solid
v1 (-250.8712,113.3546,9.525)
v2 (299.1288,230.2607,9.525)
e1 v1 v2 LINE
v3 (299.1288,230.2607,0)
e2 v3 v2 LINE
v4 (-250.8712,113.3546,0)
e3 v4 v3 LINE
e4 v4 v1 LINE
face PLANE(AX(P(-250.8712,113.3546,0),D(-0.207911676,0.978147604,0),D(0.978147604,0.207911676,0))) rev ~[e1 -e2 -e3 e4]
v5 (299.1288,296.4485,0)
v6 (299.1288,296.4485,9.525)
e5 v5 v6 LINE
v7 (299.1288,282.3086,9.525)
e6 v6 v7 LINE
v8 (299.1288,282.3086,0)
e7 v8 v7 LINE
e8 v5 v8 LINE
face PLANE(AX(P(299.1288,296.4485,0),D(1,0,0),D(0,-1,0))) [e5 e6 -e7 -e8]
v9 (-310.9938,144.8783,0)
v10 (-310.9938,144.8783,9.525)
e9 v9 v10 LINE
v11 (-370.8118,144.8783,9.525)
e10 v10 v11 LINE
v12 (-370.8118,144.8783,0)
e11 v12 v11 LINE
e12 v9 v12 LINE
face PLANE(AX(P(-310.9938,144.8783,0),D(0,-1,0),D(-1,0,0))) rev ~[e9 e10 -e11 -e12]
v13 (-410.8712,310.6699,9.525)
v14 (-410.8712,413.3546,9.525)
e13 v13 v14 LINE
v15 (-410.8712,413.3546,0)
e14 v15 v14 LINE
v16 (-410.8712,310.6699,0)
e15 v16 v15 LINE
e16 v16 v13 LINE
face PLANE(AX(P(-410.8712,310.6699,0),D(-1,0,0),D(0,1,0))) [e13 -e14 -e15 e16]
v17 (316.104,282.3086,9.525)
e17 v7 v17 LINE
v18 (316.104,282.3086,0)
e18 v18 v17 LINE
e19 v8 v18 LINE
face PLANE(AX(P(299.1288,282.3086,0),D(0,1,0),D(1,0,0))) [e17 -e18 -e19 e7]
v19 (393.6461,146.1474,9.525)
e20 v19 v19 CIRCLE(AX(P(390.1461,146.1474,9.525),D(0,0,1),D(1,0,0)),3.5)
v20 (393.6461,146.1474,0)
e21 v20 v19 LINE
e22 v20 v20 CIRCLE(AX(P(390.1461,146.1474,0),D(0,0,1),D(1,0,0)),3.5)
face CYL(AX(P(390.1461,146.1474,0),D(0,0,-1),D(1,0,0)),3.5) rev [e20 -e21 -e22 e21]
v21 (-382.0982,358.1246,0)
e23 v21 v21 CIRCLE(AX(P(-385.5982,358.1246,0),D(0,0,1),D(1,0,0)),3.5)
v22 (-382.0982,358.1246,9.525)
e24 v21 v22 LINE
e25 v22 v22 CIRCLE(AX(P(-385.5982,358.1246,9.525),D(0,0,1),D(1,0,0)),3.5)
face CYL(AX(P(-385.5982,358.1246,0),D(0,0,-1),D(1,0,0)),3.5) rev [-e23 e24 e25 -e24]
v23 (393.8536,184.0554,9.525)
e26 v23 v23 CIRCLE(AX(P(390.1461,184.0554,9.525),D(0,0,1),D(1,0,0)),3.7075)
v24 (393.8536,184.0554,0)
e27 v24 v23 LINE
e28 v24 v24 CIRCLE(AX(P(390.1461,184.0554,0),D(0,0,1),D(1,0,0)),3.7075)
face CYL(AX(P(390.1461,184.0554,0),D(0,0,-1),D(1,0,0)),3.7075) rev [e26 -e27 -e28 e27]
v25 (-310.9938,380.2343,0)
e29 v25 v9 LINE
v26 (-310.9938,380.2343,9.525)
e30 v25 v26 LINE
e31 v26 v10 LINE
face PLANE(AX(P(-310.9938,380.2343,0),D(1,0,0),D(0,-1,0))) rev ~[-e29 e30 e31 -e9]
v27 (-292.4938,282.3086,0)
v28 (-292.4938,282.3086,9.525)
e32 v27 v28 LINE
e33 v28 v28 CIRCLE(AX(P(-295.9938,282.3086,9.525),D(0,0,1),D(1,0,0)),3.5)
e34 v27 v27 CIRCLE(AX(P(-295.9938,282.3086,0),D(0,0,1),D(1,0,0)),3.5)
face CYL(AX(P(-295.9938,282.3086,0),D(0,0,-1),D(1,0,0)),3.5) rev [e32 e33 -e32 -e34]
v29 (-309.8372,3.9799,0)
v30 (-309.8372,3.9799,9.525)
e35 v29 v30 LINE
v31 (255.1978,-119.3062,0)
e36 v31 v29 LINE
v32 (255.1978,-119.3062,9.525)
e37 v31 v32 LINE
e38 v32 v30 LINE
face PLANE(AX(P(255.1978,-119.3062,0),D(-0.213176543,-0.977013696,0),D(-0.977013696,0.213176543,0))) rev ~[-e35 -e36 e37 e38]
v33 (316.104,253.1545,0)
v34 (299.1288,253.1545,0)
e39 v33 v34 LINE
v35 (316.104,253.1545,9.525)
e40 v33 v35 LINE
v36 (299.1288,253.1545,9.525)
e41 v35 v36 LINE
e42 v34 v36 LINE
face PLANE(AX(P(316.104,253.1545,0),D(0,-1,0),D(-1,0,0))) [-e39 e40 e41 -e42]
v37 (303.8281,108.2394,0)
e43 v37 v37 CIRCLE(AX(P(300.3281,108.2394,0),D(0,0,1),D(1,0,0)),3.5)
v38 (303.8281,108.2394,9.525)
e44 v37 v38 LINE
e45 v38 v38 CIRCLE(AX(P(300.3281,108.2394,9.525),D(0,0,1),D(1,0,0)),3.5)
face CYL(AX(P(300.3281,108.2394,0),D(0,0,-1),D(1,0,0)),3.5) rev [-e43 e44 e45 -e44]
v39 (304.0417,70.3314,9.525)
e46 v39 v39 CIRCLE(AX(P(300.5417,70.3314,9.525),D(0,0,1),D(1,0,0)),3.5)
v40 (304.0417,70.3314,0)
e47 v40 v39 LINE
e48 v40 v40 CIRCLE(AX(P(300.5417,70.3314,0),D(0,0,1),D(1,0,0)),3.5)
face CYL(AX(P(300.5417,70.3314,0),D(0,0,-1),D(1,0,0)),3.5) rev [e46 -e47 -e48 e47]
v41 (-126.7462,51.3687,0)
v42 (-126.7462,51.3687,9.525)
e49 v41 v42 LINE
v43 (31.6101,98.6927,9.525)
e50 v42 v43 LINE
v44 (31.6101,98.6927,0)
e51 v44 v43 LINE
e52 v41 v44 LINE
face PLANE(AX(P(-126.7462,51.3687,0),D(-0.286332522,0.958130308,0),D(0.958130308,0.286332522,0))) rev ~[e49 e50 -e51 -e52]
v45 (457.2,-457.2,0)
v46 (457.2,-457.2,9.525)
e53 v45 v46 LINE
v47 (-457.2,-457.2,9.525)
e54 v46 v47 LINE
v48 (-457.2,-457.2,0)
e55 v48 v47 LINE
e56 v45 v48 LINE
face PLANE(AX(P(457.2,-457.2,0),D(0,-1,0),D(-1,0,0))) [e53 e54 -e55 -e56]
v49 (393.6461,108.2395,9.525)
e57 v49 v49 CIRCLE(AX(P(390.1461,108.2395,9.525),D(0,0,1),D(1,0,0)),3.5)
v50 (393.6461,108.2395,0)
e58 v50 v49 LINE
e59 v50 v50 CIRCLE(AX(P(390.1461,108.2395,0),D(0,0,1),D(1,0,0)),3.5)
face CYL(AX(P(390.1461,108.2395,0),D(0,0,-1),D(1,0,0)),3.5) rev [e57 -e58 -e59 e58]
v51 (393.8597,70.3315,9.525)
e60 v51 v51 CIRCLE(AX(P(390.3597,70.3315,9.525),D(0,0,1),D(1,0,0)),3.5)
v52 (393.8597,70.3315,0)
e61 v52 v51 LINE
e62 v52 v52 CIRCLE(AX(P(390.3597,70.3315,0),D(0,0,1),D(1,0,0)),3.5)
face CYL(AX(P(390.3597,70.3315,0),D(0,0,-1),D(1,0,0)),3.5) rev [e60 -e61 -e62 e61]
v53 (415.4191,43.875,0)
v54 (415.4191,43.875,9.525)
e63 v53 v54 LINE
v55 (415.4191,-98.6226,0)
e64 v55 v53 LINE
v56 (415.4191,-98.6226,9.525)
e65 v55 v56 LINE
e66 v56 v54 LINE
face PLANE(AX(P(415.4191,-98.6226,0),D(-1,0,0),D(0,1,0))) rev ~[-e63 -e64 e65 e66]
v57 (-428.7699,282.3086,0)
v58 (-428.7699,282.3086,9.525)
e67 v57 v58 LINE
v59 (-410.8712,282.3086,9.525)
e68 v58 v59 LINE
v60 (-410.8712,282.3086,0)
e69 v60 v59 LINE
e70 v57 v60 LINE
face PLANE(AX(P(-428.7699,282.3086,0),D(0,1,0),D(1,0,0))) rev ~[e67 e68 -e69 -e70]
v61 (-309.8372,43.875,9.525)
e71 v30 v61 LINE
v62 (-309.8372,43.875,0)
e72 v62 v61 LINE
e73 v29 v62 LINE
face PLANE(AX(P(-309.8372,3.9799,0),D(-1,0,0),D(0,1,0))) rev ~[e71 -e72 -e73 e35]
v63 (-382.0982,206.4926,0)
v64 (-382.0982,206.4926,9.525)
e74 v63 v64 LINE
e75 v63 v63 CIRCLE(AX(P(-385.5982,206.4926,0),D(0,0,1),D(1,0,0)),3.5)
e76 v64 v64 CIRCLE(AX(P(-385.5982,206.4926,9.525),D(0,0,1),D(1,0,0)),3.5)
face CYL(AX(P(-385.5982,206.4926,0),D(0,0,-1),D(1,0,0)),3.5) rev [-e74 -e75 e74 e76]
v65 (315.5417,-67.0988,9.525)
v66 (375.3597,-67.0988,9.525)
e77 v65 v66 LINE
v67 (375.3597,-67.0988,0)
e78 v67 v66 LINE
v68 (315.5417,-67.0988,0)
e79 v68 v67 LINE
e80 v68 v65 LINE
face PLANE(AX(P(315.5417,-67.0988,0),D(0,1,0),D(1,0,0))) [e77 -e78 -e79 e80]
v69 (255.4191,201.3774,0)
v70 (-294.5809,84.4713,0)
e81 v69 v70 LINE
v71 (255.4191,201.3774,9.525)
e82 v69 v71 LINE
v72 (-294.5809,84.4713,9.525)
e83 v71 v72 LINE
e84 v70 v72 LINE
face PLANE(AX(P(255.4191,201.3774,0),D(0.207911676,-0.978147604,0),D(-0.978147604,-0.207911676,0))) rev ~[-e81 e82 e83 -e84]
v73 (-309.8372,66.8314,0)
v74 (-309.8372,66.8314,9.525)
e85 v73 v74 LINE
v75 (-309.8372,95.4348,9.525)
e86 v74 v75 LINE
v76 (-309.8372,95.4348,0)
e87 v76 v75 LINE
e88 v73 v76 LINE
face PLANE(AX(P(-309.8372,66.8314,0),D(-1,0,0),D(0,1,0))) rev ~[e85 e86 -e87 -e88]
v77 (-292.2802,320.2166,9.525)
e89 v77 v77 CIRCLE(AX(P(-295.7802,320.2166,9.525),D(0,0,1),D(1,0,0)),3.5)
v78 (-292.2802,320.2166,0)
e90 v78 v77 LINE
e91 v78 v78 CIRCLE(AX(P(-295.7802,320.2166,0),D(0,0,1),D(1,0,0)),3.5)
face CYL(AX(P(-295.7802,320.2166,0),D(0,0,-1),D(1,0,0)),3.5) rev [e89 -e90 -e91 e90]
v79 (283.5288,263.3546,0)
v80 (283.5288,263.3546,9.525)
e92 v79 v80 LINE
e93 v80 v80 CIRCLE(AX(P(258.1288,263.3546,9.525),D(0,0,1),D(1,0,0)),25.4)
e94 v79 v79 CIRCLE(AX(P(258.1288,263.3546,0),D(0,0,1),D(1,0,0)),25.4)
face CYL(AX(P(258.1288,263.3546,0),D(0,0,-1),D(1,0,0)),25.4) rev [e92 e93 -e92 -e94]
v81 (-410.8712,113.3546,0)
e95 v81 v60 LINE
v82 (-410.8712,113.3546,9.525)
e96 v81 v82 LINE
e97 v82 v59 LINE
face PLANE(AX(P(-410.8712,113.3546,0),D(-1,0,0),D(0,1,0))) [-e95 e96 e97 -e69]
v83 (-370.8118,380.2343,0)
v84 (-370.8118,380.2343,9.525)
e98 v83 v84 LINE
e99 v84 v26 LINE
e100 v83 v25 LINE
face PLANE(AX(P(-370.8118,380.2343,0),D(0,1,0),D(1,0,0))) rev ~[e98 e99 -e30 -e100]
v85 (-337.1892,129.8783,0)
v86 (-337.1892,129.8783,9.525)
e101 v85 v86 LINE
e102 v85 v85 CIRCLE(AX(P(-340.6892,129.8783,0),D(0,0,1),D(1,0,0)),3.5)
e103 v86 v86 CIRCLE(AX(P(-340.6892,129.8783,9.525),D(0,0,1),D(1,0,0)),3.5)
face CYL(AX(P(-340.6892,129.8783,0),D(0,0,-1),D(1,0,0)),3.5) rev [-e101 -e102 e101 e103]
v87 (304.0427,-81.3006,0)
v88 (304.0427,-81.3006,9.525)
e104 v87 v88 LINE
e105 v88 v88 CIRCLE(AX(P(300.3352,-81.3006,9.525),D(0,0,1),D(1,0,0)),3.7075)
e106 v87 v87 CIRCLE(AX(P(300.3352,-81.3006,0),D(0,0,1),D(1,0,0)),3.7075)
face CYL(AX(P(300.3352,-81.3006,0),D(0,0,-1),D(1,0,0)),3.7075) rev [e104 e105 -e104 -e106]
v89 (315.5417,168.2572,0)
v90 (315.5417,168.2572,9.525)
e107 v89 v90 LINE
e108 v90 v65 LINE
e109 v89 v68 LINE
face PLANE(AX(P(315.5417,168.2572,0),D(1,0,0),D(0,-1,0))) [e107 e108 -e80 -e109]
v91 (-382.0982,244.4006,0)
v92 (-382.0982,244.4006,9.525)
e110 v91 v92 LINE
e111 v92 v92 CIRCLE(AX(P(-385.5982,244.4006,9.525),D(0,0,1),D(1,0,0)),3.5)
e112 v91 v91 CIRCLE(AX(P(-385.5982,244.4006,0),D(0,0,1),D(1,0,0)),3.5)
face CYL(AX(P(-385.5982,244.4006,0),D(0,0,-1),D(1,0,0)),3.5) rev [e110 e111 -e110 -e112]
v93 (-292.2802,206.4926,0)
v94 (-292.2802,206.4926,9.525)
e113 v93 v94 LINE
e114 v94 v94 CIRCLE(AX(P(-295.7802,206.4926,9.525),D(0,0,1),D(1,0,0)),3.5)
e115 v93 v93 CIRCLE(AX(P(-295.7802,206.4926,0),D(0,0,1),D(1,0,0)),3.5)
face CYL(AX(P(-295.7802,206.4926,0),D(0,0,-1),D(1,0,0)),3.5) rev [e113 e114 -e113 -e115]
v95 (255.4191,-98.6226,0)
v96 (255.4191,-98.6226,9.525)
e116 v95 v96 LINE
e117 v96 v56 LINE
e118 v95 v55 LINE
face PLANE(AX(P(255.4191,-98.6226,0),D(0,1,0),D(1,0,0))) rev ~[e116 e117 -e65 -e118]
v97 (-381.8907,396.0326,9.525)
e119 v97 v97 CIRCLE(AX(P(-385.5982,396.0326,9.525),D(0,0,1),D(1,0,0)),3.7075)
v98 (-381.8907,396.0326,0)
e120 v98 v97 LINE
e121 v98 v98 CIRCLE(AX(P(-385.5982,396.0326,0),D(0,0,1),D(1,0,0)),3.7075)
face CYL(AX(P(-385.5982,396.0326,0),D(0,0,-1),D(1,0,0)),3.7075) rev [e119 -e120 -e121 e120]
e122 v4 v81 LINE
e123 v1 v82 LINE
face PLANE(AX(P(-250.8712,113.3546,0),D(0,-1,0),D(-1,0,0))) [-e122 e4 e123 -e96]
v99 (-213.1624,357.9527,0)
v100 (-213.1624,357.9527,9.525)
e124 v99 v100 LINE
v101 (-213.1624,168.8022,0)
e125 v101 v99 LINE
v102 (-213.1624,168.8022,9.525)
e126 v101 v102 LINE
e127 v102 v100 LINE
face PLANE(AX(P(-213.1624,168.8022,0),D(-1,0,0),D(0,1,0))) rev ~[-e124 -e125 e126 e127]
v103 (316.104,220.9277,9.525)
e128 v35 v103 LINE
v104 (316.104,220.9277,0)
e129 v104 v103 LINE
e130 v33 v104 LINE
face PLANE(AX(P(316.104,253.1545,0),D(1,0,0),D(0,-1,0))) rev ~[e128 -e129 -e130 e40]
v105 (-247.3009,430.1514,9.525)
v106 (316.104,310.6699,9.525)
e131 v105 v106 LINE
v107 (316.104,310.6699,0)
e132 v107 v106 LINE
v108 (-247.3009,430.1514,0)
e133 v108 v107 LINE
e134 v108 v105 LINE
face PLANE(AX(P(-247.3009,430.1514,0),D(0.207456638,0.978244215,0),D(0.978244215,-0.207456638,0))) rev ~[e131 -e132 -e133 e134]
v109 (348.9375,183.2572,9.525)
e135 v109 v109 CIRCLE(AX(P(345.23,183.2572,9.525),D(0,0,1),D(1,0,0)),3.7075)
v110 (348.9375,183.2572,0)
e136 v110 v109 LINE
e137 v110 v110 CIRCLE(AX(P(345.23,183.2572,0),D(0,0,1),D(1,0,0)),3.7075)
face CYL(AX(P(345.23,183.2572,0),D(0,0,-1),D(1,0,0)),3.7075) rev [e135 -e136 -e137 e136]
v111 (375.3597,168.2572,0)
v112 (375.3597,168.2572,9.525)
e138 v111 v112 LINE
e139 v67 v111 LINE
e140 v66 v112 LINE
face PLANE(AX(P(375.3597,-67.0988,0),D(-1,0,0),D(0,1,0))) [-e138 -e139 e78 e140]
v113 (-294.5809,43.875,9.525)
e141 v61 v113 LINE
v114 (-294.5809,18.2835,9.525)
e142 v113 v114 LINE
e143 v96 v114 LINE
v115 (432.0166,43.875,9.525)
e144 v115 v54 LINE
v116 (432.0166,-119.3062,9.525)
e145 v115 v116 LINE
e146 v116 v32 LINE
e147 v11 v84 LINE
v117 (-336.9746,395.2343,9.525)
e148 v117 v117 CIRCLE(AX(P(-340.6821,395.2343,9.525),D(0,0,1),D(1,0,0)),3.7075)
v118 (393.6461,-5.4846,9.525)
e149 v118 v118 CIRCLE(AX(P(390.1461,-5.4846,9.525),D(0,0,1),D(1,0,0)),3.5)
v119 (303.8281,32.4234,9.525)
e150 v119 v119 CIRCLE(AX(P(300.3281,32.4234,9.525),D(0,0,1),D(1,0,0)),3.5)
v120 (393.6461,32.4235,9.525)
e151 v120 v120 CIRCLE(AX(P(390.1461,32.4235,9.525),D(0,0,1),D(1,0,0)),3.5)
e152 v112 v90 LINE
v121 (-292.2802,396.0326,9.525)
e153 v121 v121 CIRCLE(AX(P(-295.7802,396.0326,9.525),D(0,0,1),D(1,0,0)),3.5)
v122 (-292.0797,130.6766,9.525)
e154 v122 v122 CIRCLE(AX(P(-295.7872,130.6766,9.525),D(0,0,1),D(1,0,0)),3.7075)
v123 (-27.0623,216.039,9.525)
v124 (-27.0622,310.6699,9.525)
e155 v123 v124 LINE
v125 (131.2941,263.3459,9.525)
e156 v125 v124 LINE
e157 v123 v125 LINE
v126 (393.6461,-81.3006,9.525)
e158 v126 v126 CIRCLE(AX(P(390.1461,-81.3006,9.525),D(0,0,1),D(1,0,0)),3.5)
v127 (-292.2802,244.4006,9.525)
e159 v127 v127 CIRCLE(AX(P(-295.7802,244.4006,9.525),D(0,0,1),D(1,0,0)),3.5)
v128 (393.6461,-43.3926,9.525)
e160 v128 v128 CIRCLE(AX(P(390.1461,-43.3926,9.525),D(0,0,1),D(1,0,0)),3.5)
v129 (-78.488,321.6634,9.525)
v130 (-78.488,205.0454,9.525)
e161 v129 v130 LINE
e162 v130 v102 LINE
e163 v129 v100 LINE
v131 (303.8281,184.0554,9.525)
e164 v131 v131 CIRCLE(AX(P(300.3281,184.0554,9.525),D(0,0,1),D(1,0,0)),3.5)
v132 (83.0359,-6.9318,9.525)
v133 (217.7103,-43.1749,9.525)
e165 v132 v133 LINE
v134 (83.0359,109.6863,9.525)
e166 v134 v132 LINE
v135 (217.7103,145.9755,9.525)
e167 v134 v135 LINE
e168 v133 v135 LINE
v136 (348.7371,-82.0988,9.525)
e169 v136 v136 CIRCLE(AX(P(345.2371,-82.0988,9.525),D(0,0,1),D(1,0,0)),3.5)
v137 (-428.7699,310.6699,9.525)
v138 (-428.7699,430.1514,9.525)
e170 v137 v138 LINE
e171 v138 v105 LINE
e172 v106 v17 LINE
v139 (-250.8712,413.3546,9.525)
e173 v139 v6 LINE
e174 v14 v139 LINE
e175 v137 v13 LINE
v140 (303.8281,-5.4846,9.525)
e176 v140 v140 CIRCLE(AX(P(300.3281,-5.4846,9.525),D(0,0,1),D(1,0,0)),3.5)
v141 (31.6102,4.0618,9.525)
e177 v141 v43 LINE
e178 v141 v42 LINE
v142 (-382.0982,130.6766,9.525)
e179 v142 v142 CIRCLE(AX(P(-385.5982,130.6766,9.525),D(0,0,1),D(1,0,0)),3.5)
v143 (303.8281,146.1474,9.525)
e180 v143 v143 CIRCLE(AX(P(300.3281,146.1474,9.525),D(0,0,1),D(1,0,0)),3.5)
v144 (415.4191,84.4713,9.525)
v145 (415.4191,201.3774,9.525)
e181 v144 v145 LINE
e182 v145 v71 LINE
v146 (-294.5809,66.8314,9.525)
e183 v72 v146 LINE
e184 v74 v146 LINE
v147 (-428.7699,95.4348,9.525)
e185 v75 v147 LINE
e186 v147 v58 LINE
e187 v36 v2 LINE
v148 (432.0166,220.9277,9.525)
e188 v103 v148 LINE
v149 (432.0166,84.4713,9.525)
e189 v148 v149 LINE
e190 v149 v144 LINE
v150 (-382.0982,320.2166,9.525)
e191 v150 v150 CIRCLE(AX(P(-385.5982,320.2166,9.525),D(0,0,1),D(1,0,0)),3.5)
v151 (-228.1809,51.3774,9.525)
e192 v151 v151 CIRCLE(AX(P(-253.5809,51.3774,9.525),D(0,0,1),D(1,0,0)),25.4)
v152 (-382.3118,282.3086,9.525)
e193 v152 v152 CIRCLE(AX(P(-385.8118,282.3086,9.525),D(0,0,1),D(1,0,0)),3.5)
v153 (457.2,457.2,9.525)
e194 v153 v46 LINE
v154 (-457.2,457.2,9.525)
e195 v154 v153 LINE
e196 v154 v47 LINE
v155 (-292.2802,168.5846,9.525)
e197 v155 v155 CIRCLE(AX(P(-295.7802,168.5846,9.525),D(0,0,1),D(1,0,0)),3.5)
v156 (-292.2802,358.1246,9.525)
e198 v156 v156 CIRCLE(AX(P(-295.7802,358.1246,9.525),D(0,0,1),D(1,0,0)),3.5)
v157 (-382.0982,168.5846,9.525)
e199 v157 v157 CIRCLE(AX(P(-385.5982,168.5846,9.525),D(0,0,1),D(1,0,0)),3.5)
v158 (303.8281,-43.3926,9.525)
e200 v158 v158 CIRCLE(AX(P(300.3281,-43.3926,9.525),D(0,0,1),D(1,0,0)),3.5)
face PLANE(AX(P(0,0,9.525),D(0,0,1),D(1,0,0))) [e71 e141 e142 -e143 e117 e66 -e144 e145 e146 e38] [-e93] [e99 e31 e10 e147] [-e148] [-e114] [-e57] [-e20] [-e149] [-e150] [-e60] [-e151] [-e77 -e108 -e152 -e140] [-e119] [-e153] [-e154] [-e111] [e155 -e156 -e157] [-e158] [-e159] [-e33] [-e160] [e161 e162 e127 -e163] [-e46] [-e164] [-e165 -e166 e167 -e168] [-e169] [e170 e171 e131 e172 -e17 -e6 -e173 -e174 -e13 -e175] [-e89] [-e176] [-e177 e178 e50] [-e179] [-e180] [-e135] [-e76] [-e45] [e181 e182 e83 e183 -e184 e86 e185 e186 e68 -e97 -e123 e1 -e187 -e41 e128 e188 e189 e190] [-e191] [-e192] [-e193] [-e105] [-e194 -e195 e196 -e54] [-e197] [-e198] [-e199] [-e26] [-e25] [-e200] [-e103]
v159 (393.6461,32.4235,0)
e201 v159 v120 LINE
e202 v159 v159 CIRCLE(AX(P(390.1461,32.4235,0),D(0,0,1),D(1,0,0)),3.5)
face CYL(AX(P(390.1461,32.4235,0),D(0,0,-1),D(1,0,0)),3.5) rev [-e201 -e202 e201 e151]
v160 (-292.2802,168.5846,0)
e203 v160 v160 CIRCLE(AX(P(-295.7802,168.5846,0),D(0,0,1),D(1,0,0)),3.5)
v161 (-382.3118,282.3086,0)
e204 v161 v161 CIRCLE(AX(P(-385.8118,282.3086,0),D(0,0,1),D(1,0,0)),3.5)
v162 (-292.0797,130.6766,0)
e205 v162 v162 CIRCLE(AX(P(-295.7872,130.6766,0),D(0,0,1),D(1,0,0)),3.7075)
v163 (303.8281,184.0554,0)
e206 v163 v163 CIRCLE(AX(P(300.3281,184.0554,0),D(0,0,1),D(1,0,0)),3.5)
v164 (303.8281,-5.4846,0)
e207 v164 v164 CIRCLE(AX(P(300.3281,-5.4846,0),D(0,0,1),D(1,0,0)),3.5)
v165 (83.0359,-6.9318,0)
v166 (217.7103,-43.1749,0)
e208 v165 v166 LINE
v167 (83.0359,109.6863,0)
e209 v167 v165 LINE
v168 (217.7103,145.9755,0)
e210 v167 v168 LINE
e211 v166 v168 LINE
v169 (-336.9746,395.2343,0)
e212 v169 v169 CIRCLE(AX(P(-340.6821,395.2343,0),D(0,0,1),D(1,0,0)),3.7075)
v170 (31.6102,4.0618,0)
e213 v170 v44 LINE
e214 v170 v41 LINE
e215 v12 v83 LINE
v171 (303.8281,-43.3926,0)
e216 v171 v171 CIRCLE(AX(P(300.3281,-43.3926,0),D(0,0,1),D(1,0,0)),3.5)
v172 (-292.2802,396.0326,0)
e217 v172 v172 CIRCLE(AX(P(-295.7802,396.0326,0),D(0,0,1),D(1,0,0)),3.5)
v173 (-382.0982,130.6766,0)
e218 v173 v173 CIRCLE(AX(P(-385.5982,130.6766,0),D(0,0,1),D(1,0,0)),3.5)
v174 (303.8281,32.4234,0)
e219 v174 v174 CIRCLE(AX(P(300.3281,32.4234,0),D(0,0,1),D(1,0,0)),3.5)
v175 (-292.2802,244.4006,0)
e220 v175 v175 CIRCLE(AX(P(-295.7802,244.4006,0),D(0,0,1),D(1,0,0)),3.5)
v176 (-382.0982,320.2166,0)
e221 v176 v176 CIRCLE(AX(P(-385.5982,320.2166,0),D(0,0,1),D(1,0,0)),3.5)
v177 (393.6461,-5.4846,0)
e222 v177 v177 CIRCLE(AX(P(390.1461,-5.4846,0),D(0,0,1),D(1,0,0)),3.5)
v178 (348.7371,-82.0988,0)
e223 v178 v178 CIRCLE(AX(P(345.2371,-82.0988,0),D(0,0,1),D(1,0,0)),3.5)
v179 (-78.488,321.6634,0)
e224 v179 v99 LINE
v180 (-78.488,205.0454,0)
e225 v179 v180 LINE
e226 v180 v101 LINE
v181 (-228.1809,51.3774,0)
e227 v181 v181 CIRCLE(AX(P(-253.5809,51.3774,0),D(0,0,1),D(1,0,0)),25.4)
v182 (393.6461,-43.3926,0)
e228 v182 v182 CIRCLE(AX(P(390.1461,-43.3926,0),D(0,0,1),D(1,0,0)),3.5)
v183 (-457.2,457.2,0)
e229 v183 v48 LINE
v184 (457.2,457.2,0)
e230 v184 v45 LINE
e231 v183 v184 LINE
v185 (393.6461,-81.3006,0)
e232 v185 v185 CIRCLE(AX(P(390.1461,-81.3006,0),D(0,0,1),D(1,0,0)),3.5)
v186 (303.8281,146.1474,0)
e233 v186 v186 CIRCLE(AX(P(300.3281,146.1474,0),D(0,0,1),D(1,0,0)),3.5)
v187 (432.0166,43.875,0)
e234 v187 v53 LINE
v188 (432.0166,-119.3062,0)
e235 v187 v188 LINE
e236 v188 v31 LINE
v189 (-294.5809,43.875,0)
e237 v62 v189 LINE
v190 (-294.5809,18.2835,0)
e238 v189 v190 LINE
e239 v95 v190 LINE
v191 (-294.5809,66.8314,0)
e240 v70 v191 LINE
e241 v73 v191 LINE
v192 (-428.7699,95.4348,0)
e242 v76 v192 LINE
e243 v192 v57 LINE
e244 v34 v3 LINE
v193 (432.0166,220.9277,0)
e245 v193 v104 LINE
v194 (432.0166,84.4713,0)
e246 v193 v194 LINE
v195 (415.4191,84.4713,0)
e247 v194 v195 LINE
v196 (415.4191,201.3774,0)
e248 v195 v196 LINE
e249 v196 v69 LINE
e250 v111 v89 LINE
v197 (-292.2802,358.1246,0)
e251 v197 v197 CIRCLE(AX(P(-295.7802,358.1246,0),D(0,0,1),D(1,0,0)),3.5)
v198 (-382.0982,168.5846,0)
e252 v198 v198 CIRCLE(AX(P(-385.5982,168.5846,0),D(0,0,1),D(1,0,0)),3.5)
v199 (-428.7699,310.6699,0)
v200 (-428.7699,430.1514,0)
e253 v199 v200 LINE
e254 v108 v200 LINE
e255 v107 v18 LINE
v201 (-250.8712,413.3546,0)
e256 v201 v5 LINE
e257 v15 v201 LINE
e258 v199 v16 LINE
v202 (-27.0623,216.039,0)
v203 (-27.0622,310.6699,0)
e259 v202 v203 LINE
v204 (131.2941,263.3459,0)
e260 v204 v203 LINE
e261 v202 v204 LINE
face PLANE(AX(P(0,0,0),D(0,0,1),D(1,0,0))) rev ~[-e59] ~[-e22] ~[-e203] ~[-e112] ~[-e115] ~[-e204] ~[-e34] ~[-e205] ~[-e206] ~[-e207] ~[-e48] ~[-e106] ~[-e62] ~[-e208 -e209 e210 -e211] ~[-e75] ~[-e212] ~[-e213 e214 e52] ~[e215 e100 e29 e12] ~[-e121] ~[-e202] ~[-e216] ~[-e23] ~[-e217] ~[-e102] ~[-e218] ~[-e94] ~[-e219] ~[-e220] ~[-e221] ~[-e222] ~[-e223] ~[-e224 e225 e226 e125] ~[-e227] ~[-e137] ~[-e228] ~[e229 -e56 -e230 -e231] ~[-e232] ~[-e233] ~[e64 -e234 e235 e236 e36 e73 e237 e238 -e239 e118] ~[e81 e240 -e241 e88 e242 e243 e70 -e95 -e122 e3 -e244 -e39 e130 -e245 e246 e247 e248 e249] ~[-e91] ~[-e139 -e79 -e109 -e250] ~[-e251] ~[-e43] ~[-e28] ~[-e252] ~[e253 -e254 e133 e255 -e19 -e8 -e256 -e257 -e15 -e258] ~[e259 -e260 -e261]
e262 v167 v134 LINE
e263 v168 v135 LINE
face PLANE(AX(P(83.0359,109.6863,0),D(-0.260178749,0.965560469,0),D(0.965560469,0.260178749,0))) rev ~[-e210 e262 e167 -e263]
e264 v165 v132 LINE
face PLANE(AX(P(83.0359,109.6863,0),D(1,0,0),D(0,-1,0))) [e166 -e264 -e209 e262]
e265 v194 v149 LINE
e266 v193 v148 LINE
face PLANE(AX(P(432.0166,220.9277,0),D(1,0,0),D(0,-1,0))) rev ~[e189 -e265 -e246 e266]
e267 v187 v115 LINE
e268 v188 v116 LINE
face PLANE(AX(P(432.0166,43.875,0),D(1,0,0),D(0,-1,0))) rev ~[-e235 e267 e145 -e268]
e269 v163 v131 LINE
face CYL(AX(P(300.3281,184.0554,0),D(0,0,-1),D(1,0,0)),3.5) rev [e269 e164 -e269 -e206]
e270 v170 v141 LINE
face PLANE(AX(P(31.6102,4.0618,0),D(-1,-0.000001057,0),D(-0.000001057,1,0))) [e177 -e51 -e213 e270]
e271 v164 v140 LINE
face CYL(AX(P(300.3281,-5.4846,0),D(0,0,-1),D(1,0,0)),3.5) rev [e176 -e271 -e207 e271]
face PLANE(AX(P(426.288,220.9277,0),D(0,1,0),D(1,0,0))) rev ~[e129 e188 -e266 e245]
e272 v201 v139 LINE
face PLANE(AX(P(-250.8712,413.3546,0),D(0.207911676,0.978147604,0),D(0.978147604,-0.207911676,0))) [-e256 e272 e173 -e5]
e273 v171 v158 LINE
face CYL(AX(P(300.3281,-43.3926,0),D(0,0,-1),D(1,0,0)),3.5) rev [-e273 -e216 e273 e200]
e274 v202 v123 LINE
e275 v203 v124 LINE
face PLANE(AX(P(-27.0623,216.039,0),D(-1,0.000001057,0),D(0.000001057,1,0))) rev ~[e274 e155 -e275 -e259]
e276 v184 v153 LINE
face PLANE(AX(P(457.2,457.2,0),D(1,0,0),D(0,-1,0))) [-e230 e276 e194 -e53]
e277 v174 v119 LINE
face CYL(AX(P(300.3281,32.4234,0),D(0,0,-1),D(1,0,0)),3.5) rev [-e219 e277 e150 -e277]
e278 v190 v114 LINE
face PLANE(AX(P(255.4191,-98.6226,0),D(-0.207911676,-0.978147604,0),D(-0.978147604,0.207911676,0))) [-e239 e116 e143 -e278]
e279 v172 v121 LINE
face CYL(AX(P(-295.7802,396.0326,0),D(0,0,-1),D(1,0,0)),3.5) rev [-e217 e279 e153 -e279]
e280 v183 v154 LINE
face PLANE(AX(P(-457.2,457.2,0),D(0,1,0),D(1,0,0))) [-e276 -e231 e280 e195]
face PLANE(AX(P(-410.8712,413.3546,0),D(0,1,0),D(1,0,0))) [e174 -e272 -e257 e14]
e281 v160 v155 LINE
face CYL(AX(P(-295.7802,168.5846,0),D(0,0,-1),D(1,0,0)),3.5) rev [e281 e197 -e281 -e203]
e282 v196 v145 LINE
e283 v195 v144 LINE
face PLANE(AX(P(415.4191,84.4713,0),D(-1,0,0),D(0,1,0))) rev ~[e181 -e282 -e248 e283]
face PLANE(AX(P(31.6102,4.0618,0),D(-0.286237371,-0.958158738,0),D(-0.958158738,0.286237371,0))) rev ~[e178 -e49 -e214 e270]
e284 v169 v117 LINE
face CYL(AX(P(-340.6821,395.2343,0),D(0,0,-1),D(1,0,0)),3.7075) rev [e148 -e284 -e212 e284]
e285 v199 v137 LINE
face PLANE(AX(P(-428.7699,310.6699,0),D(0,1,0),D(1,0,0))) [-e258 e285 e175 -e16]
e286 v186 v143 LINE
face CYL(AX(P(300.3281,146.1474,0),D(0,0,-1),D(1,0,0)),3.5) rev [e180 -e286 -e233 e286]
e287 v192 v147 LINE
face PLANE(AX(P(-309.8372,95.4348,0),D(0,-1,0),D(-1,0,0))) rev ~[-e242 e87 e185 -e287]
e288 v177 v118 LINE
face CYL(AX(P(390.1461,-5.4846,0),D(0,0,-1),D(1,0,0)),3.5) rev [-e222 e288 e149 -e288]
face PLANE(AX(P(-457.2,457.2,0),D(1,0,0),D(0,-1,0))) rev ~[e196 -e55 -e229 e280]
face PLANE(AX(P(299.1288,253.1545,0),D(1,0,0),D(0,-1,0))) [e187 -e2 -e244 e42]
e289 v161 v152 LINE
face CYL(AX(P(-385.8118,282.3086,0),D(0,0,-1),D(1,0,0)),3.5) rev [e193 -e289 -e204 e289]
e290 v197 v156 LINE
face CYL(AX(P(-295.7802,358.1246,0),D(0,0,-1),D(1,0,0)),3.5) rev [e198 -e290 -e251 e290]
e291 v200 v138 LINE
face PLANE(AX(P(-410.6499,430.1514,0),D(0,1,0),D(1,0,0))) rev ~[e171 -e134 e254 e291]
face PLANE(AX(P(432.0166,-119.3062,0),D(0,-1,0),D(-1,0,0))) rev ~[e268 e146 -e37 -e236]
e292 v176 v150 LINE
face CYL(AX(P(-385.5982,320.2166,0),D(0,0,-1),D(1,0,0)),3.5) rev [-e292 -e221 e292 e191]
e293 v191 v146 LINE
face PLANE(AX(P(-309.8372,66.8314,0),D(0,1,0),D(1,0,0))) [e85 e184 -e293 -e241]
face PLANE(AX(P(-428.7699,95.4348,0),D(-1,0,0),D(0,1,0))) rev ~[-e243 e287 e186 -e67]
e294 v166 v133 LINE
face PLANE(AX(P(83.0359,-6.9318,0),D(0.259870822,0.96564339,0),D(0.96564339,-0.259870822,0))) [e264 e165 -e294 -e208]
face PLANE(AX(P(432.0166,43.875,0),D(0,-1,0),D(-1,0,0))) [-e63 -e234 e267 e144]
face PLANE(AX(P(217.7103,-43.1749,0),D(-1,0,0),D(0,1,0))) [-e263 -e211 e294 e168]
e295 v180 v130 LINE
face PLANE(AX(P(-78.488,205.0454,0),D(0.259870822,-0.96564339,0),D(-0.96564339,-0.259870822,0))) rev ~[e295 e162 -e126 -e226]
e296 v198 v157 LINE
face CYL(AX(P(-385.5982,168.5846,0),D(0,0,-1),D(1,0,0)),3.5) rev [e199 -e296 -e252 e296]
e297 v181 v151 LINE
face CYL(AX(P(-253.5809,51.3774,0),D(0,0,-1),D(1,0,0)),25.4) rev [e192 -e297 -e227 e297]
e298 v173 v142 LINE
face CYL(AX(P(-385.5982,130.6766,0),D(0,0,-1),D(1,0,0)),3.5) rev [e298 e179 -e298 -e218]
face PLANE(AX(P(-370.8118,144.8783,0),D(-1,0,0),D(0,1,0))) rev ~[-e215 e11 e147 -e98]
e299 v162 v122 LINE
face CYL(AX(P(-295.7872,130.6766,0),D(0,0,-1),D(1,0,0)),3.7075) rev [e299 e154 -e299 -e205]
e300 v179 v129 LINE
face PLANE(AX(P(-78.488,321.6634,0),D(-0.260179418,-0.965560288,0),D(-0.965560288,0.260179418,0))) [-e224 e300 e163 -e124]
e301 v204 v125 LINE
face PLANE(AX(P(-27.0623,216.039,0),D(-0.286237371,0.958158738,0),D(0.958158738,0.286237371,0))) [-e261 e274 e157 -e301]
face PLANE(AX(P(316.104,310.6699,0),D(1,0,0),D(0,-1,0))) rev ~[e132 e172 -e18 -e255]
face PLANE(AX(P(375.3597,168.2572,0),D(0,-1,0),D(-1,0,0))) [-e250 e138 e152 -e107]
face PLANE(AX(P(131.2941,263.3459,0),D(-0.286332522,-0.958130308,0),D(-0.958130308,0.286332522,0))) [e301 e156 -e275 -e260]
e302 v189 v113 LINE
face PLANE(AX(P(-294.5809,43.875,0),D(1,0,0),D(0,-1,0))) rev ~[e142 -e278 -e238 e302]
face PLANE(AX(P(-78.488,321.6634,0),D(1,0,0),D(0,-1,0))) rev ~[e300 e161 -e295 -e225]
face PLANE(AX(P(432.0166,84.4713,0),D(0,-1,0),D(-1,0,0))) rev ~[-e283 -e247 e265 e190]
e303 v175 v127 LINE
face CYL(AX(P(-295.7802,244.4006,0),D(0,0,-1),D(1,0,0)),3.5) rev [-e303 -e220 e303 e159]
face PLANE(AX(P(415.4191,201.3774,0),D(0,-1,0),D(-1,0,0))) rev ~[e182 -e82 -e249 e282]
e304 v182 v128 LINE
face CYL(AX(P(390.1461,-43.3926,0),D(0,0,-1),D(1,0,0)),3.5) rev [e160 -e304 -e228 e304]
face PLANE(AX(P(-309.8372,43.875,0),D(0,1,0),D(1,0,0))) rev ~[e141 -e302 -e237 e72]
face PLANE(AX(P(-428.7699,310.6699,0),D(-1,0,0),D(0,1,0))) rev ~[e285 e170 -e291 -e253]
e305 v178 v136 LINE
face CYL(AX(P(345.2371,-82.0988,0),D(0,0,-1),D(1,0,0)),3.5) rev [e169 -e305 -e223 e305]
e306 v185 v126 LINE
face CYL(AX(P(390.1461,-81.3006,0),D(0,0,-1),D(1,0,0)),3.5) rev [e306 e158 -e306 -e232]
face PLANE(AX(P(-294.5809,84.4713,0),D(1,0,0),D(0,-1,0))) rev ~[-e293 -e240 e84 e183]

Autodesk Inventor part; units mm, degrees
ref_plane "YZ Plane" through (0, 0, 0) normal (1, 0, 0) x (0, 1, 0)
ref_plane "XZ Plane" through (0, 0, 0) normal (0, 1, 0) x (-1, 0, 0)
ref_plane "XY Plane" through (0, 0, 0) normal (0, 0, 1) x (1, 0, 0)
sketch "Sketch1" plane through (0, 0, 0) normal (0, 0, 1) x (1, 0, 0)
  line L0 (-457.2, 457.2) -> (457.2, 457.2)
  line L1 (457.2, 457.2) -> (457.2, -457.2)
  line L2 (457.2, -457.2) -> (-457.2, -457.2)
  line L3 (-410.8712, 413.3546) -> (-250.8712, 413.3546)
  line L4 (-250.8712, 113.3546) -> (-410.8712, 113.3546)
  line L5 (-410.8712, 113.3546) -> (-410.8712, 413.3546)
  circle A0 centre (-295.7802, 396.0326) radius 3.5
  circle A1 centre (-295.7872, 130.6766) radius 3.7075
  circle A2 centre (-385.5982, 396.0326) radius 3.7075
  circle A3 centre (-340.6821, 395.2343) radius 3.7075
  circle A4 centre (-385.5982, 130.6766) radius 3.5
  circle A5 centre (-340.6892, 129.8783) radius 3.5
  circle A6 centre (-295.7802, 358.1246) radius 3.5
  circle A7 centre (-295.7802, 320.2166) radius 3.5
  circle A8 centre (-295.9938, 282.3086) radius 3.5
  circle A9 centre (-295.7802, 244.4006) radius 3.5
  circle A10 centre (-295.7802, 206.4926) radius 3.5
  circle A11 centre (-295.7802, 168.5846) radius 3.5
  circle A12 centre (-385.5982, 358.1246) radius 3.5
  circle A13 centre (-385.5982, 320.2166) radius 3.5
  circle A14 centre (-385.8118, 282.3086) radius 3.5
  circle A15 centre (-385.5982, 244.4006) radius 3.5
  circle A16 centre (-385.5982, 206.4926) radius 3.5
  circle A17 centre (-385.5982, 168.5846) radius 3.5
  line L6 (-370.8118, 380.2343) -> (-310.9938, 380.2343)
  line L7 (-310.9938, 380.2343) -> (-310.9938, 144.8783)
  line L8 (-310.9938, 144.8783) -> (-370.8118, 144.8783)
  line L9 (-370.8118, 144.8783) -> (-370.8118, 380.2343)
  line L10 (-250.8712, 413.3546) -> (299.1288, 296.4485)
  line L11 (-250.8712, 113.3546) -> (299.1288, 230.2607)
  line L12 (299.1288, 296.4485) -> (299.1288, 230.2607)
  circle A18 centre (258.1288, 263.3546) radius 25.4
  line L13 (-213.1624, 168.8022) -> (-213.1624, 357.9527)
  line L14 (-78.488, 321.6634) -> (-78.488, 205.0454)
  line L15 (-27.0623, 216.039) -> (-27.0622, 310.6699)
  line L16 (-78.488, 321.6634) -> (-213.1624, 357.9527)
  line L17 (-78.488, 205.0454) -> (-213.9712, 168.5846)
  line L18 (-27.0623, 216.039) -> (131.2941, 263.3459)
  line L19 (131.2941, 263.3459) -> (-27.0622, 310.6699)
  line L20 (83.0359, 109.6863) -> (83.0359, -6.9318)
  line L21 (415.4191, -98.6226) -> (415.4191, 201.3774)
  circle A19 centre (390.1461, 32.4235) radius 3.5
  line L22 (375.3597, -67.0988) -> (375.3597, 168.2572)
  line L23 (315.5417, 168.2572) -> (315.5417, -67.0988)
  circle A20 centre (300.3281, 32.4234) radius 3.5
  line L24 (255.4191, -98.6226) -> (415.4191, -98.6226)
  circle A21 centre (390.3597, 70.3315) radius 3.5
  circle A22 centre (300.3281, 108.2394) radius 3.5
  circle A23 centre (390.1461, 108.2395) radius 3.5
  circle A24 centre (390.1461, 146.1474) radius 3.5
  circle A25 centre (300.3281, 146.1474) radius 3.5
  line L25 (375.3597, 168.2572) -> (315.5417, 168.2572)
  line L26 (415.4191, 201.3774) -> (255.4191, 201.3774)
  circle A26 centre (300.5417, 70.3314) radius 3.5
  circle A27 centre (300.3352, -81.3006) radius 3.7075
  circle A28 centre (390.1461, -81.3006) radius 3.5
  circle A29 centre (300.3281, -5.4846) radius 3.5
  circle A30 centre (390.1461, -5.4846) radius 3.5
  circle A31 centre (300.3281, -43.3926) radius 3.5
  circle A32 centre (390.1461, -43.3926) radius 3.5
  line L27 (315.5417, -67.0988) -> (375.3597, -67.0988)
  circle A33 centre (345.2371, -82.0988) radius 3.5
  circle A34 centre (300.3281, 184.0554) radius 3.5
  circle A35 centre (390.1461, 184.0554) radius 3.7075
  circle A36 centre (345.23, 183.2572) radius 3.7075
  line L28 (217.7103, -43.1749) -> (217.7103, 145.9755)
  line L29 (83.0359, 109.6863) -> (217.7103, 145.9755)
  line L30 (83.0359, -6.9318) -> (218.5191, -43.3926)
  line L31 (31.6102, 4.0618) -> (31.6101, 98.6927)
  line L32 (255.4191, -98.6226) -> (-294.5809, 18.2835)
  line L33 (255.4191, 201.3774) -> (-294.5809, 84.4713)
  line L34 (31.6102, 4.0618) -> (-126.7462, 51.3687)
  line L35 (-126.7462, 51.3687) -> (31.6101, 98.6927)
  line L36 (-294.5809, 84.4713) -> (-294.5809, 18.2835)
  circle A37 centre (-253.5809, 51.3774) radius 25.4
  line L37 (-457.2, 457.2) -> (-457.2, -457.2)
  line L38 (-410.6499, 430.1514) -> (-247.3009, 430.1514)
  line L39 (-247.3009, 430.1514) -> (316.104, 310.6699)
  line L40 (316.104, 310.6699) -> (316.104, 220.9277)
  line L41 (316.104, 220.9277) -> (426.288, 220.9277)
  line L42 (426.288, 220.9277) -> (437.7452, 220.9277)
  line L43 (432.0166, 220.9277) -> (432.0166, -119.3062)
  line L44 (432.0166, -119.3062) -> (255.1978, -119.3062)
  line L45 (255.1978, -119.3062) -> (-309.8372, 3.9799)
  line L46 (-309.8372, 3.9799) -> (-309.8372, 95.4348)
  line L47 (-309.8372, 95.4348) -> (-428.7699, 95.4348)
  line L48 (-428.7699, 95.4348) -> (-428.7699, 430.1514)
  line L49 (-428.7699, 430.1514) -> (-410.6499, 430.1514)
  line L50 (299.1288, 282.3086) -> (316.104, 282.3086)
  line L51 (316.104, 253.1545) -> (299.1288, 253.1545)
  line L52 (-428.7699, 310.6699) -> (-410.8712, 310.6699)
  line L53 (-428.7699, 282.3086) -> (-410.8712, 282.3086)
  line L54 (432.0166, 84.4713) -> (415.4191, 84.4713)
  line L55 (432.0166, 43.875) -> (415.4191, 43.875)
  line L56 (-309.8372, 66.8314) -> (-294.5809, 66.8314)
  line L57 (-309.8372, 43.875) -> (-294.5809, 43.875)
  point P0 (0, 0)
  dimension "d3" = 914.4
  dimension "d7" = 300
  dimension "d15" = 17.322
  dimension "d16" = 17.322
  dimension "d19" = 44.909
  dimension "d25" = 44.909
  dimension "d62" = 235.356
  dimension "d63" = 59.818
  dimension "d64" = 15
  dimension "d65" = 15
  dimension "d66" = 15
  dimension "d67" = 15
  dimension "d75" = 550
  dimension "d76" = 550
  dimension "d102" = 914.4
  dimension "d103" = 16.7968
extrude "Extrusion5" add sketch "Sketch1" along normal blind 9.525 contours L0 L1 L2 L37 | L3 L10 L12 L11 L4 L5 | L5 L53 L48 L52 | L50 L40 L51 L12 | L56 L36 L57 L46 | L36 L33 L26 L21 L24 L32 | L43 L55 L21 L54
equation "\"BendRadius\" = Thickness"
equation "\"BendReliefWidth\" = Thickness"
equation "\"BendReliefDepth\" = 0.5 * Thickness"
equation "\"CornerReliefSize\" = 4 * Thickness"
equation "\"MinimumRemnant\" = 2 * Thickness"
equation "\"TransitionRadius\" = BendRadius"
equation "\"JacobiRadiusSize\" = BendRadius"
equation "\"GapSize\" = Thickness"
equation "\"Thickness\" = 0.5"
properties part number "W1support"
